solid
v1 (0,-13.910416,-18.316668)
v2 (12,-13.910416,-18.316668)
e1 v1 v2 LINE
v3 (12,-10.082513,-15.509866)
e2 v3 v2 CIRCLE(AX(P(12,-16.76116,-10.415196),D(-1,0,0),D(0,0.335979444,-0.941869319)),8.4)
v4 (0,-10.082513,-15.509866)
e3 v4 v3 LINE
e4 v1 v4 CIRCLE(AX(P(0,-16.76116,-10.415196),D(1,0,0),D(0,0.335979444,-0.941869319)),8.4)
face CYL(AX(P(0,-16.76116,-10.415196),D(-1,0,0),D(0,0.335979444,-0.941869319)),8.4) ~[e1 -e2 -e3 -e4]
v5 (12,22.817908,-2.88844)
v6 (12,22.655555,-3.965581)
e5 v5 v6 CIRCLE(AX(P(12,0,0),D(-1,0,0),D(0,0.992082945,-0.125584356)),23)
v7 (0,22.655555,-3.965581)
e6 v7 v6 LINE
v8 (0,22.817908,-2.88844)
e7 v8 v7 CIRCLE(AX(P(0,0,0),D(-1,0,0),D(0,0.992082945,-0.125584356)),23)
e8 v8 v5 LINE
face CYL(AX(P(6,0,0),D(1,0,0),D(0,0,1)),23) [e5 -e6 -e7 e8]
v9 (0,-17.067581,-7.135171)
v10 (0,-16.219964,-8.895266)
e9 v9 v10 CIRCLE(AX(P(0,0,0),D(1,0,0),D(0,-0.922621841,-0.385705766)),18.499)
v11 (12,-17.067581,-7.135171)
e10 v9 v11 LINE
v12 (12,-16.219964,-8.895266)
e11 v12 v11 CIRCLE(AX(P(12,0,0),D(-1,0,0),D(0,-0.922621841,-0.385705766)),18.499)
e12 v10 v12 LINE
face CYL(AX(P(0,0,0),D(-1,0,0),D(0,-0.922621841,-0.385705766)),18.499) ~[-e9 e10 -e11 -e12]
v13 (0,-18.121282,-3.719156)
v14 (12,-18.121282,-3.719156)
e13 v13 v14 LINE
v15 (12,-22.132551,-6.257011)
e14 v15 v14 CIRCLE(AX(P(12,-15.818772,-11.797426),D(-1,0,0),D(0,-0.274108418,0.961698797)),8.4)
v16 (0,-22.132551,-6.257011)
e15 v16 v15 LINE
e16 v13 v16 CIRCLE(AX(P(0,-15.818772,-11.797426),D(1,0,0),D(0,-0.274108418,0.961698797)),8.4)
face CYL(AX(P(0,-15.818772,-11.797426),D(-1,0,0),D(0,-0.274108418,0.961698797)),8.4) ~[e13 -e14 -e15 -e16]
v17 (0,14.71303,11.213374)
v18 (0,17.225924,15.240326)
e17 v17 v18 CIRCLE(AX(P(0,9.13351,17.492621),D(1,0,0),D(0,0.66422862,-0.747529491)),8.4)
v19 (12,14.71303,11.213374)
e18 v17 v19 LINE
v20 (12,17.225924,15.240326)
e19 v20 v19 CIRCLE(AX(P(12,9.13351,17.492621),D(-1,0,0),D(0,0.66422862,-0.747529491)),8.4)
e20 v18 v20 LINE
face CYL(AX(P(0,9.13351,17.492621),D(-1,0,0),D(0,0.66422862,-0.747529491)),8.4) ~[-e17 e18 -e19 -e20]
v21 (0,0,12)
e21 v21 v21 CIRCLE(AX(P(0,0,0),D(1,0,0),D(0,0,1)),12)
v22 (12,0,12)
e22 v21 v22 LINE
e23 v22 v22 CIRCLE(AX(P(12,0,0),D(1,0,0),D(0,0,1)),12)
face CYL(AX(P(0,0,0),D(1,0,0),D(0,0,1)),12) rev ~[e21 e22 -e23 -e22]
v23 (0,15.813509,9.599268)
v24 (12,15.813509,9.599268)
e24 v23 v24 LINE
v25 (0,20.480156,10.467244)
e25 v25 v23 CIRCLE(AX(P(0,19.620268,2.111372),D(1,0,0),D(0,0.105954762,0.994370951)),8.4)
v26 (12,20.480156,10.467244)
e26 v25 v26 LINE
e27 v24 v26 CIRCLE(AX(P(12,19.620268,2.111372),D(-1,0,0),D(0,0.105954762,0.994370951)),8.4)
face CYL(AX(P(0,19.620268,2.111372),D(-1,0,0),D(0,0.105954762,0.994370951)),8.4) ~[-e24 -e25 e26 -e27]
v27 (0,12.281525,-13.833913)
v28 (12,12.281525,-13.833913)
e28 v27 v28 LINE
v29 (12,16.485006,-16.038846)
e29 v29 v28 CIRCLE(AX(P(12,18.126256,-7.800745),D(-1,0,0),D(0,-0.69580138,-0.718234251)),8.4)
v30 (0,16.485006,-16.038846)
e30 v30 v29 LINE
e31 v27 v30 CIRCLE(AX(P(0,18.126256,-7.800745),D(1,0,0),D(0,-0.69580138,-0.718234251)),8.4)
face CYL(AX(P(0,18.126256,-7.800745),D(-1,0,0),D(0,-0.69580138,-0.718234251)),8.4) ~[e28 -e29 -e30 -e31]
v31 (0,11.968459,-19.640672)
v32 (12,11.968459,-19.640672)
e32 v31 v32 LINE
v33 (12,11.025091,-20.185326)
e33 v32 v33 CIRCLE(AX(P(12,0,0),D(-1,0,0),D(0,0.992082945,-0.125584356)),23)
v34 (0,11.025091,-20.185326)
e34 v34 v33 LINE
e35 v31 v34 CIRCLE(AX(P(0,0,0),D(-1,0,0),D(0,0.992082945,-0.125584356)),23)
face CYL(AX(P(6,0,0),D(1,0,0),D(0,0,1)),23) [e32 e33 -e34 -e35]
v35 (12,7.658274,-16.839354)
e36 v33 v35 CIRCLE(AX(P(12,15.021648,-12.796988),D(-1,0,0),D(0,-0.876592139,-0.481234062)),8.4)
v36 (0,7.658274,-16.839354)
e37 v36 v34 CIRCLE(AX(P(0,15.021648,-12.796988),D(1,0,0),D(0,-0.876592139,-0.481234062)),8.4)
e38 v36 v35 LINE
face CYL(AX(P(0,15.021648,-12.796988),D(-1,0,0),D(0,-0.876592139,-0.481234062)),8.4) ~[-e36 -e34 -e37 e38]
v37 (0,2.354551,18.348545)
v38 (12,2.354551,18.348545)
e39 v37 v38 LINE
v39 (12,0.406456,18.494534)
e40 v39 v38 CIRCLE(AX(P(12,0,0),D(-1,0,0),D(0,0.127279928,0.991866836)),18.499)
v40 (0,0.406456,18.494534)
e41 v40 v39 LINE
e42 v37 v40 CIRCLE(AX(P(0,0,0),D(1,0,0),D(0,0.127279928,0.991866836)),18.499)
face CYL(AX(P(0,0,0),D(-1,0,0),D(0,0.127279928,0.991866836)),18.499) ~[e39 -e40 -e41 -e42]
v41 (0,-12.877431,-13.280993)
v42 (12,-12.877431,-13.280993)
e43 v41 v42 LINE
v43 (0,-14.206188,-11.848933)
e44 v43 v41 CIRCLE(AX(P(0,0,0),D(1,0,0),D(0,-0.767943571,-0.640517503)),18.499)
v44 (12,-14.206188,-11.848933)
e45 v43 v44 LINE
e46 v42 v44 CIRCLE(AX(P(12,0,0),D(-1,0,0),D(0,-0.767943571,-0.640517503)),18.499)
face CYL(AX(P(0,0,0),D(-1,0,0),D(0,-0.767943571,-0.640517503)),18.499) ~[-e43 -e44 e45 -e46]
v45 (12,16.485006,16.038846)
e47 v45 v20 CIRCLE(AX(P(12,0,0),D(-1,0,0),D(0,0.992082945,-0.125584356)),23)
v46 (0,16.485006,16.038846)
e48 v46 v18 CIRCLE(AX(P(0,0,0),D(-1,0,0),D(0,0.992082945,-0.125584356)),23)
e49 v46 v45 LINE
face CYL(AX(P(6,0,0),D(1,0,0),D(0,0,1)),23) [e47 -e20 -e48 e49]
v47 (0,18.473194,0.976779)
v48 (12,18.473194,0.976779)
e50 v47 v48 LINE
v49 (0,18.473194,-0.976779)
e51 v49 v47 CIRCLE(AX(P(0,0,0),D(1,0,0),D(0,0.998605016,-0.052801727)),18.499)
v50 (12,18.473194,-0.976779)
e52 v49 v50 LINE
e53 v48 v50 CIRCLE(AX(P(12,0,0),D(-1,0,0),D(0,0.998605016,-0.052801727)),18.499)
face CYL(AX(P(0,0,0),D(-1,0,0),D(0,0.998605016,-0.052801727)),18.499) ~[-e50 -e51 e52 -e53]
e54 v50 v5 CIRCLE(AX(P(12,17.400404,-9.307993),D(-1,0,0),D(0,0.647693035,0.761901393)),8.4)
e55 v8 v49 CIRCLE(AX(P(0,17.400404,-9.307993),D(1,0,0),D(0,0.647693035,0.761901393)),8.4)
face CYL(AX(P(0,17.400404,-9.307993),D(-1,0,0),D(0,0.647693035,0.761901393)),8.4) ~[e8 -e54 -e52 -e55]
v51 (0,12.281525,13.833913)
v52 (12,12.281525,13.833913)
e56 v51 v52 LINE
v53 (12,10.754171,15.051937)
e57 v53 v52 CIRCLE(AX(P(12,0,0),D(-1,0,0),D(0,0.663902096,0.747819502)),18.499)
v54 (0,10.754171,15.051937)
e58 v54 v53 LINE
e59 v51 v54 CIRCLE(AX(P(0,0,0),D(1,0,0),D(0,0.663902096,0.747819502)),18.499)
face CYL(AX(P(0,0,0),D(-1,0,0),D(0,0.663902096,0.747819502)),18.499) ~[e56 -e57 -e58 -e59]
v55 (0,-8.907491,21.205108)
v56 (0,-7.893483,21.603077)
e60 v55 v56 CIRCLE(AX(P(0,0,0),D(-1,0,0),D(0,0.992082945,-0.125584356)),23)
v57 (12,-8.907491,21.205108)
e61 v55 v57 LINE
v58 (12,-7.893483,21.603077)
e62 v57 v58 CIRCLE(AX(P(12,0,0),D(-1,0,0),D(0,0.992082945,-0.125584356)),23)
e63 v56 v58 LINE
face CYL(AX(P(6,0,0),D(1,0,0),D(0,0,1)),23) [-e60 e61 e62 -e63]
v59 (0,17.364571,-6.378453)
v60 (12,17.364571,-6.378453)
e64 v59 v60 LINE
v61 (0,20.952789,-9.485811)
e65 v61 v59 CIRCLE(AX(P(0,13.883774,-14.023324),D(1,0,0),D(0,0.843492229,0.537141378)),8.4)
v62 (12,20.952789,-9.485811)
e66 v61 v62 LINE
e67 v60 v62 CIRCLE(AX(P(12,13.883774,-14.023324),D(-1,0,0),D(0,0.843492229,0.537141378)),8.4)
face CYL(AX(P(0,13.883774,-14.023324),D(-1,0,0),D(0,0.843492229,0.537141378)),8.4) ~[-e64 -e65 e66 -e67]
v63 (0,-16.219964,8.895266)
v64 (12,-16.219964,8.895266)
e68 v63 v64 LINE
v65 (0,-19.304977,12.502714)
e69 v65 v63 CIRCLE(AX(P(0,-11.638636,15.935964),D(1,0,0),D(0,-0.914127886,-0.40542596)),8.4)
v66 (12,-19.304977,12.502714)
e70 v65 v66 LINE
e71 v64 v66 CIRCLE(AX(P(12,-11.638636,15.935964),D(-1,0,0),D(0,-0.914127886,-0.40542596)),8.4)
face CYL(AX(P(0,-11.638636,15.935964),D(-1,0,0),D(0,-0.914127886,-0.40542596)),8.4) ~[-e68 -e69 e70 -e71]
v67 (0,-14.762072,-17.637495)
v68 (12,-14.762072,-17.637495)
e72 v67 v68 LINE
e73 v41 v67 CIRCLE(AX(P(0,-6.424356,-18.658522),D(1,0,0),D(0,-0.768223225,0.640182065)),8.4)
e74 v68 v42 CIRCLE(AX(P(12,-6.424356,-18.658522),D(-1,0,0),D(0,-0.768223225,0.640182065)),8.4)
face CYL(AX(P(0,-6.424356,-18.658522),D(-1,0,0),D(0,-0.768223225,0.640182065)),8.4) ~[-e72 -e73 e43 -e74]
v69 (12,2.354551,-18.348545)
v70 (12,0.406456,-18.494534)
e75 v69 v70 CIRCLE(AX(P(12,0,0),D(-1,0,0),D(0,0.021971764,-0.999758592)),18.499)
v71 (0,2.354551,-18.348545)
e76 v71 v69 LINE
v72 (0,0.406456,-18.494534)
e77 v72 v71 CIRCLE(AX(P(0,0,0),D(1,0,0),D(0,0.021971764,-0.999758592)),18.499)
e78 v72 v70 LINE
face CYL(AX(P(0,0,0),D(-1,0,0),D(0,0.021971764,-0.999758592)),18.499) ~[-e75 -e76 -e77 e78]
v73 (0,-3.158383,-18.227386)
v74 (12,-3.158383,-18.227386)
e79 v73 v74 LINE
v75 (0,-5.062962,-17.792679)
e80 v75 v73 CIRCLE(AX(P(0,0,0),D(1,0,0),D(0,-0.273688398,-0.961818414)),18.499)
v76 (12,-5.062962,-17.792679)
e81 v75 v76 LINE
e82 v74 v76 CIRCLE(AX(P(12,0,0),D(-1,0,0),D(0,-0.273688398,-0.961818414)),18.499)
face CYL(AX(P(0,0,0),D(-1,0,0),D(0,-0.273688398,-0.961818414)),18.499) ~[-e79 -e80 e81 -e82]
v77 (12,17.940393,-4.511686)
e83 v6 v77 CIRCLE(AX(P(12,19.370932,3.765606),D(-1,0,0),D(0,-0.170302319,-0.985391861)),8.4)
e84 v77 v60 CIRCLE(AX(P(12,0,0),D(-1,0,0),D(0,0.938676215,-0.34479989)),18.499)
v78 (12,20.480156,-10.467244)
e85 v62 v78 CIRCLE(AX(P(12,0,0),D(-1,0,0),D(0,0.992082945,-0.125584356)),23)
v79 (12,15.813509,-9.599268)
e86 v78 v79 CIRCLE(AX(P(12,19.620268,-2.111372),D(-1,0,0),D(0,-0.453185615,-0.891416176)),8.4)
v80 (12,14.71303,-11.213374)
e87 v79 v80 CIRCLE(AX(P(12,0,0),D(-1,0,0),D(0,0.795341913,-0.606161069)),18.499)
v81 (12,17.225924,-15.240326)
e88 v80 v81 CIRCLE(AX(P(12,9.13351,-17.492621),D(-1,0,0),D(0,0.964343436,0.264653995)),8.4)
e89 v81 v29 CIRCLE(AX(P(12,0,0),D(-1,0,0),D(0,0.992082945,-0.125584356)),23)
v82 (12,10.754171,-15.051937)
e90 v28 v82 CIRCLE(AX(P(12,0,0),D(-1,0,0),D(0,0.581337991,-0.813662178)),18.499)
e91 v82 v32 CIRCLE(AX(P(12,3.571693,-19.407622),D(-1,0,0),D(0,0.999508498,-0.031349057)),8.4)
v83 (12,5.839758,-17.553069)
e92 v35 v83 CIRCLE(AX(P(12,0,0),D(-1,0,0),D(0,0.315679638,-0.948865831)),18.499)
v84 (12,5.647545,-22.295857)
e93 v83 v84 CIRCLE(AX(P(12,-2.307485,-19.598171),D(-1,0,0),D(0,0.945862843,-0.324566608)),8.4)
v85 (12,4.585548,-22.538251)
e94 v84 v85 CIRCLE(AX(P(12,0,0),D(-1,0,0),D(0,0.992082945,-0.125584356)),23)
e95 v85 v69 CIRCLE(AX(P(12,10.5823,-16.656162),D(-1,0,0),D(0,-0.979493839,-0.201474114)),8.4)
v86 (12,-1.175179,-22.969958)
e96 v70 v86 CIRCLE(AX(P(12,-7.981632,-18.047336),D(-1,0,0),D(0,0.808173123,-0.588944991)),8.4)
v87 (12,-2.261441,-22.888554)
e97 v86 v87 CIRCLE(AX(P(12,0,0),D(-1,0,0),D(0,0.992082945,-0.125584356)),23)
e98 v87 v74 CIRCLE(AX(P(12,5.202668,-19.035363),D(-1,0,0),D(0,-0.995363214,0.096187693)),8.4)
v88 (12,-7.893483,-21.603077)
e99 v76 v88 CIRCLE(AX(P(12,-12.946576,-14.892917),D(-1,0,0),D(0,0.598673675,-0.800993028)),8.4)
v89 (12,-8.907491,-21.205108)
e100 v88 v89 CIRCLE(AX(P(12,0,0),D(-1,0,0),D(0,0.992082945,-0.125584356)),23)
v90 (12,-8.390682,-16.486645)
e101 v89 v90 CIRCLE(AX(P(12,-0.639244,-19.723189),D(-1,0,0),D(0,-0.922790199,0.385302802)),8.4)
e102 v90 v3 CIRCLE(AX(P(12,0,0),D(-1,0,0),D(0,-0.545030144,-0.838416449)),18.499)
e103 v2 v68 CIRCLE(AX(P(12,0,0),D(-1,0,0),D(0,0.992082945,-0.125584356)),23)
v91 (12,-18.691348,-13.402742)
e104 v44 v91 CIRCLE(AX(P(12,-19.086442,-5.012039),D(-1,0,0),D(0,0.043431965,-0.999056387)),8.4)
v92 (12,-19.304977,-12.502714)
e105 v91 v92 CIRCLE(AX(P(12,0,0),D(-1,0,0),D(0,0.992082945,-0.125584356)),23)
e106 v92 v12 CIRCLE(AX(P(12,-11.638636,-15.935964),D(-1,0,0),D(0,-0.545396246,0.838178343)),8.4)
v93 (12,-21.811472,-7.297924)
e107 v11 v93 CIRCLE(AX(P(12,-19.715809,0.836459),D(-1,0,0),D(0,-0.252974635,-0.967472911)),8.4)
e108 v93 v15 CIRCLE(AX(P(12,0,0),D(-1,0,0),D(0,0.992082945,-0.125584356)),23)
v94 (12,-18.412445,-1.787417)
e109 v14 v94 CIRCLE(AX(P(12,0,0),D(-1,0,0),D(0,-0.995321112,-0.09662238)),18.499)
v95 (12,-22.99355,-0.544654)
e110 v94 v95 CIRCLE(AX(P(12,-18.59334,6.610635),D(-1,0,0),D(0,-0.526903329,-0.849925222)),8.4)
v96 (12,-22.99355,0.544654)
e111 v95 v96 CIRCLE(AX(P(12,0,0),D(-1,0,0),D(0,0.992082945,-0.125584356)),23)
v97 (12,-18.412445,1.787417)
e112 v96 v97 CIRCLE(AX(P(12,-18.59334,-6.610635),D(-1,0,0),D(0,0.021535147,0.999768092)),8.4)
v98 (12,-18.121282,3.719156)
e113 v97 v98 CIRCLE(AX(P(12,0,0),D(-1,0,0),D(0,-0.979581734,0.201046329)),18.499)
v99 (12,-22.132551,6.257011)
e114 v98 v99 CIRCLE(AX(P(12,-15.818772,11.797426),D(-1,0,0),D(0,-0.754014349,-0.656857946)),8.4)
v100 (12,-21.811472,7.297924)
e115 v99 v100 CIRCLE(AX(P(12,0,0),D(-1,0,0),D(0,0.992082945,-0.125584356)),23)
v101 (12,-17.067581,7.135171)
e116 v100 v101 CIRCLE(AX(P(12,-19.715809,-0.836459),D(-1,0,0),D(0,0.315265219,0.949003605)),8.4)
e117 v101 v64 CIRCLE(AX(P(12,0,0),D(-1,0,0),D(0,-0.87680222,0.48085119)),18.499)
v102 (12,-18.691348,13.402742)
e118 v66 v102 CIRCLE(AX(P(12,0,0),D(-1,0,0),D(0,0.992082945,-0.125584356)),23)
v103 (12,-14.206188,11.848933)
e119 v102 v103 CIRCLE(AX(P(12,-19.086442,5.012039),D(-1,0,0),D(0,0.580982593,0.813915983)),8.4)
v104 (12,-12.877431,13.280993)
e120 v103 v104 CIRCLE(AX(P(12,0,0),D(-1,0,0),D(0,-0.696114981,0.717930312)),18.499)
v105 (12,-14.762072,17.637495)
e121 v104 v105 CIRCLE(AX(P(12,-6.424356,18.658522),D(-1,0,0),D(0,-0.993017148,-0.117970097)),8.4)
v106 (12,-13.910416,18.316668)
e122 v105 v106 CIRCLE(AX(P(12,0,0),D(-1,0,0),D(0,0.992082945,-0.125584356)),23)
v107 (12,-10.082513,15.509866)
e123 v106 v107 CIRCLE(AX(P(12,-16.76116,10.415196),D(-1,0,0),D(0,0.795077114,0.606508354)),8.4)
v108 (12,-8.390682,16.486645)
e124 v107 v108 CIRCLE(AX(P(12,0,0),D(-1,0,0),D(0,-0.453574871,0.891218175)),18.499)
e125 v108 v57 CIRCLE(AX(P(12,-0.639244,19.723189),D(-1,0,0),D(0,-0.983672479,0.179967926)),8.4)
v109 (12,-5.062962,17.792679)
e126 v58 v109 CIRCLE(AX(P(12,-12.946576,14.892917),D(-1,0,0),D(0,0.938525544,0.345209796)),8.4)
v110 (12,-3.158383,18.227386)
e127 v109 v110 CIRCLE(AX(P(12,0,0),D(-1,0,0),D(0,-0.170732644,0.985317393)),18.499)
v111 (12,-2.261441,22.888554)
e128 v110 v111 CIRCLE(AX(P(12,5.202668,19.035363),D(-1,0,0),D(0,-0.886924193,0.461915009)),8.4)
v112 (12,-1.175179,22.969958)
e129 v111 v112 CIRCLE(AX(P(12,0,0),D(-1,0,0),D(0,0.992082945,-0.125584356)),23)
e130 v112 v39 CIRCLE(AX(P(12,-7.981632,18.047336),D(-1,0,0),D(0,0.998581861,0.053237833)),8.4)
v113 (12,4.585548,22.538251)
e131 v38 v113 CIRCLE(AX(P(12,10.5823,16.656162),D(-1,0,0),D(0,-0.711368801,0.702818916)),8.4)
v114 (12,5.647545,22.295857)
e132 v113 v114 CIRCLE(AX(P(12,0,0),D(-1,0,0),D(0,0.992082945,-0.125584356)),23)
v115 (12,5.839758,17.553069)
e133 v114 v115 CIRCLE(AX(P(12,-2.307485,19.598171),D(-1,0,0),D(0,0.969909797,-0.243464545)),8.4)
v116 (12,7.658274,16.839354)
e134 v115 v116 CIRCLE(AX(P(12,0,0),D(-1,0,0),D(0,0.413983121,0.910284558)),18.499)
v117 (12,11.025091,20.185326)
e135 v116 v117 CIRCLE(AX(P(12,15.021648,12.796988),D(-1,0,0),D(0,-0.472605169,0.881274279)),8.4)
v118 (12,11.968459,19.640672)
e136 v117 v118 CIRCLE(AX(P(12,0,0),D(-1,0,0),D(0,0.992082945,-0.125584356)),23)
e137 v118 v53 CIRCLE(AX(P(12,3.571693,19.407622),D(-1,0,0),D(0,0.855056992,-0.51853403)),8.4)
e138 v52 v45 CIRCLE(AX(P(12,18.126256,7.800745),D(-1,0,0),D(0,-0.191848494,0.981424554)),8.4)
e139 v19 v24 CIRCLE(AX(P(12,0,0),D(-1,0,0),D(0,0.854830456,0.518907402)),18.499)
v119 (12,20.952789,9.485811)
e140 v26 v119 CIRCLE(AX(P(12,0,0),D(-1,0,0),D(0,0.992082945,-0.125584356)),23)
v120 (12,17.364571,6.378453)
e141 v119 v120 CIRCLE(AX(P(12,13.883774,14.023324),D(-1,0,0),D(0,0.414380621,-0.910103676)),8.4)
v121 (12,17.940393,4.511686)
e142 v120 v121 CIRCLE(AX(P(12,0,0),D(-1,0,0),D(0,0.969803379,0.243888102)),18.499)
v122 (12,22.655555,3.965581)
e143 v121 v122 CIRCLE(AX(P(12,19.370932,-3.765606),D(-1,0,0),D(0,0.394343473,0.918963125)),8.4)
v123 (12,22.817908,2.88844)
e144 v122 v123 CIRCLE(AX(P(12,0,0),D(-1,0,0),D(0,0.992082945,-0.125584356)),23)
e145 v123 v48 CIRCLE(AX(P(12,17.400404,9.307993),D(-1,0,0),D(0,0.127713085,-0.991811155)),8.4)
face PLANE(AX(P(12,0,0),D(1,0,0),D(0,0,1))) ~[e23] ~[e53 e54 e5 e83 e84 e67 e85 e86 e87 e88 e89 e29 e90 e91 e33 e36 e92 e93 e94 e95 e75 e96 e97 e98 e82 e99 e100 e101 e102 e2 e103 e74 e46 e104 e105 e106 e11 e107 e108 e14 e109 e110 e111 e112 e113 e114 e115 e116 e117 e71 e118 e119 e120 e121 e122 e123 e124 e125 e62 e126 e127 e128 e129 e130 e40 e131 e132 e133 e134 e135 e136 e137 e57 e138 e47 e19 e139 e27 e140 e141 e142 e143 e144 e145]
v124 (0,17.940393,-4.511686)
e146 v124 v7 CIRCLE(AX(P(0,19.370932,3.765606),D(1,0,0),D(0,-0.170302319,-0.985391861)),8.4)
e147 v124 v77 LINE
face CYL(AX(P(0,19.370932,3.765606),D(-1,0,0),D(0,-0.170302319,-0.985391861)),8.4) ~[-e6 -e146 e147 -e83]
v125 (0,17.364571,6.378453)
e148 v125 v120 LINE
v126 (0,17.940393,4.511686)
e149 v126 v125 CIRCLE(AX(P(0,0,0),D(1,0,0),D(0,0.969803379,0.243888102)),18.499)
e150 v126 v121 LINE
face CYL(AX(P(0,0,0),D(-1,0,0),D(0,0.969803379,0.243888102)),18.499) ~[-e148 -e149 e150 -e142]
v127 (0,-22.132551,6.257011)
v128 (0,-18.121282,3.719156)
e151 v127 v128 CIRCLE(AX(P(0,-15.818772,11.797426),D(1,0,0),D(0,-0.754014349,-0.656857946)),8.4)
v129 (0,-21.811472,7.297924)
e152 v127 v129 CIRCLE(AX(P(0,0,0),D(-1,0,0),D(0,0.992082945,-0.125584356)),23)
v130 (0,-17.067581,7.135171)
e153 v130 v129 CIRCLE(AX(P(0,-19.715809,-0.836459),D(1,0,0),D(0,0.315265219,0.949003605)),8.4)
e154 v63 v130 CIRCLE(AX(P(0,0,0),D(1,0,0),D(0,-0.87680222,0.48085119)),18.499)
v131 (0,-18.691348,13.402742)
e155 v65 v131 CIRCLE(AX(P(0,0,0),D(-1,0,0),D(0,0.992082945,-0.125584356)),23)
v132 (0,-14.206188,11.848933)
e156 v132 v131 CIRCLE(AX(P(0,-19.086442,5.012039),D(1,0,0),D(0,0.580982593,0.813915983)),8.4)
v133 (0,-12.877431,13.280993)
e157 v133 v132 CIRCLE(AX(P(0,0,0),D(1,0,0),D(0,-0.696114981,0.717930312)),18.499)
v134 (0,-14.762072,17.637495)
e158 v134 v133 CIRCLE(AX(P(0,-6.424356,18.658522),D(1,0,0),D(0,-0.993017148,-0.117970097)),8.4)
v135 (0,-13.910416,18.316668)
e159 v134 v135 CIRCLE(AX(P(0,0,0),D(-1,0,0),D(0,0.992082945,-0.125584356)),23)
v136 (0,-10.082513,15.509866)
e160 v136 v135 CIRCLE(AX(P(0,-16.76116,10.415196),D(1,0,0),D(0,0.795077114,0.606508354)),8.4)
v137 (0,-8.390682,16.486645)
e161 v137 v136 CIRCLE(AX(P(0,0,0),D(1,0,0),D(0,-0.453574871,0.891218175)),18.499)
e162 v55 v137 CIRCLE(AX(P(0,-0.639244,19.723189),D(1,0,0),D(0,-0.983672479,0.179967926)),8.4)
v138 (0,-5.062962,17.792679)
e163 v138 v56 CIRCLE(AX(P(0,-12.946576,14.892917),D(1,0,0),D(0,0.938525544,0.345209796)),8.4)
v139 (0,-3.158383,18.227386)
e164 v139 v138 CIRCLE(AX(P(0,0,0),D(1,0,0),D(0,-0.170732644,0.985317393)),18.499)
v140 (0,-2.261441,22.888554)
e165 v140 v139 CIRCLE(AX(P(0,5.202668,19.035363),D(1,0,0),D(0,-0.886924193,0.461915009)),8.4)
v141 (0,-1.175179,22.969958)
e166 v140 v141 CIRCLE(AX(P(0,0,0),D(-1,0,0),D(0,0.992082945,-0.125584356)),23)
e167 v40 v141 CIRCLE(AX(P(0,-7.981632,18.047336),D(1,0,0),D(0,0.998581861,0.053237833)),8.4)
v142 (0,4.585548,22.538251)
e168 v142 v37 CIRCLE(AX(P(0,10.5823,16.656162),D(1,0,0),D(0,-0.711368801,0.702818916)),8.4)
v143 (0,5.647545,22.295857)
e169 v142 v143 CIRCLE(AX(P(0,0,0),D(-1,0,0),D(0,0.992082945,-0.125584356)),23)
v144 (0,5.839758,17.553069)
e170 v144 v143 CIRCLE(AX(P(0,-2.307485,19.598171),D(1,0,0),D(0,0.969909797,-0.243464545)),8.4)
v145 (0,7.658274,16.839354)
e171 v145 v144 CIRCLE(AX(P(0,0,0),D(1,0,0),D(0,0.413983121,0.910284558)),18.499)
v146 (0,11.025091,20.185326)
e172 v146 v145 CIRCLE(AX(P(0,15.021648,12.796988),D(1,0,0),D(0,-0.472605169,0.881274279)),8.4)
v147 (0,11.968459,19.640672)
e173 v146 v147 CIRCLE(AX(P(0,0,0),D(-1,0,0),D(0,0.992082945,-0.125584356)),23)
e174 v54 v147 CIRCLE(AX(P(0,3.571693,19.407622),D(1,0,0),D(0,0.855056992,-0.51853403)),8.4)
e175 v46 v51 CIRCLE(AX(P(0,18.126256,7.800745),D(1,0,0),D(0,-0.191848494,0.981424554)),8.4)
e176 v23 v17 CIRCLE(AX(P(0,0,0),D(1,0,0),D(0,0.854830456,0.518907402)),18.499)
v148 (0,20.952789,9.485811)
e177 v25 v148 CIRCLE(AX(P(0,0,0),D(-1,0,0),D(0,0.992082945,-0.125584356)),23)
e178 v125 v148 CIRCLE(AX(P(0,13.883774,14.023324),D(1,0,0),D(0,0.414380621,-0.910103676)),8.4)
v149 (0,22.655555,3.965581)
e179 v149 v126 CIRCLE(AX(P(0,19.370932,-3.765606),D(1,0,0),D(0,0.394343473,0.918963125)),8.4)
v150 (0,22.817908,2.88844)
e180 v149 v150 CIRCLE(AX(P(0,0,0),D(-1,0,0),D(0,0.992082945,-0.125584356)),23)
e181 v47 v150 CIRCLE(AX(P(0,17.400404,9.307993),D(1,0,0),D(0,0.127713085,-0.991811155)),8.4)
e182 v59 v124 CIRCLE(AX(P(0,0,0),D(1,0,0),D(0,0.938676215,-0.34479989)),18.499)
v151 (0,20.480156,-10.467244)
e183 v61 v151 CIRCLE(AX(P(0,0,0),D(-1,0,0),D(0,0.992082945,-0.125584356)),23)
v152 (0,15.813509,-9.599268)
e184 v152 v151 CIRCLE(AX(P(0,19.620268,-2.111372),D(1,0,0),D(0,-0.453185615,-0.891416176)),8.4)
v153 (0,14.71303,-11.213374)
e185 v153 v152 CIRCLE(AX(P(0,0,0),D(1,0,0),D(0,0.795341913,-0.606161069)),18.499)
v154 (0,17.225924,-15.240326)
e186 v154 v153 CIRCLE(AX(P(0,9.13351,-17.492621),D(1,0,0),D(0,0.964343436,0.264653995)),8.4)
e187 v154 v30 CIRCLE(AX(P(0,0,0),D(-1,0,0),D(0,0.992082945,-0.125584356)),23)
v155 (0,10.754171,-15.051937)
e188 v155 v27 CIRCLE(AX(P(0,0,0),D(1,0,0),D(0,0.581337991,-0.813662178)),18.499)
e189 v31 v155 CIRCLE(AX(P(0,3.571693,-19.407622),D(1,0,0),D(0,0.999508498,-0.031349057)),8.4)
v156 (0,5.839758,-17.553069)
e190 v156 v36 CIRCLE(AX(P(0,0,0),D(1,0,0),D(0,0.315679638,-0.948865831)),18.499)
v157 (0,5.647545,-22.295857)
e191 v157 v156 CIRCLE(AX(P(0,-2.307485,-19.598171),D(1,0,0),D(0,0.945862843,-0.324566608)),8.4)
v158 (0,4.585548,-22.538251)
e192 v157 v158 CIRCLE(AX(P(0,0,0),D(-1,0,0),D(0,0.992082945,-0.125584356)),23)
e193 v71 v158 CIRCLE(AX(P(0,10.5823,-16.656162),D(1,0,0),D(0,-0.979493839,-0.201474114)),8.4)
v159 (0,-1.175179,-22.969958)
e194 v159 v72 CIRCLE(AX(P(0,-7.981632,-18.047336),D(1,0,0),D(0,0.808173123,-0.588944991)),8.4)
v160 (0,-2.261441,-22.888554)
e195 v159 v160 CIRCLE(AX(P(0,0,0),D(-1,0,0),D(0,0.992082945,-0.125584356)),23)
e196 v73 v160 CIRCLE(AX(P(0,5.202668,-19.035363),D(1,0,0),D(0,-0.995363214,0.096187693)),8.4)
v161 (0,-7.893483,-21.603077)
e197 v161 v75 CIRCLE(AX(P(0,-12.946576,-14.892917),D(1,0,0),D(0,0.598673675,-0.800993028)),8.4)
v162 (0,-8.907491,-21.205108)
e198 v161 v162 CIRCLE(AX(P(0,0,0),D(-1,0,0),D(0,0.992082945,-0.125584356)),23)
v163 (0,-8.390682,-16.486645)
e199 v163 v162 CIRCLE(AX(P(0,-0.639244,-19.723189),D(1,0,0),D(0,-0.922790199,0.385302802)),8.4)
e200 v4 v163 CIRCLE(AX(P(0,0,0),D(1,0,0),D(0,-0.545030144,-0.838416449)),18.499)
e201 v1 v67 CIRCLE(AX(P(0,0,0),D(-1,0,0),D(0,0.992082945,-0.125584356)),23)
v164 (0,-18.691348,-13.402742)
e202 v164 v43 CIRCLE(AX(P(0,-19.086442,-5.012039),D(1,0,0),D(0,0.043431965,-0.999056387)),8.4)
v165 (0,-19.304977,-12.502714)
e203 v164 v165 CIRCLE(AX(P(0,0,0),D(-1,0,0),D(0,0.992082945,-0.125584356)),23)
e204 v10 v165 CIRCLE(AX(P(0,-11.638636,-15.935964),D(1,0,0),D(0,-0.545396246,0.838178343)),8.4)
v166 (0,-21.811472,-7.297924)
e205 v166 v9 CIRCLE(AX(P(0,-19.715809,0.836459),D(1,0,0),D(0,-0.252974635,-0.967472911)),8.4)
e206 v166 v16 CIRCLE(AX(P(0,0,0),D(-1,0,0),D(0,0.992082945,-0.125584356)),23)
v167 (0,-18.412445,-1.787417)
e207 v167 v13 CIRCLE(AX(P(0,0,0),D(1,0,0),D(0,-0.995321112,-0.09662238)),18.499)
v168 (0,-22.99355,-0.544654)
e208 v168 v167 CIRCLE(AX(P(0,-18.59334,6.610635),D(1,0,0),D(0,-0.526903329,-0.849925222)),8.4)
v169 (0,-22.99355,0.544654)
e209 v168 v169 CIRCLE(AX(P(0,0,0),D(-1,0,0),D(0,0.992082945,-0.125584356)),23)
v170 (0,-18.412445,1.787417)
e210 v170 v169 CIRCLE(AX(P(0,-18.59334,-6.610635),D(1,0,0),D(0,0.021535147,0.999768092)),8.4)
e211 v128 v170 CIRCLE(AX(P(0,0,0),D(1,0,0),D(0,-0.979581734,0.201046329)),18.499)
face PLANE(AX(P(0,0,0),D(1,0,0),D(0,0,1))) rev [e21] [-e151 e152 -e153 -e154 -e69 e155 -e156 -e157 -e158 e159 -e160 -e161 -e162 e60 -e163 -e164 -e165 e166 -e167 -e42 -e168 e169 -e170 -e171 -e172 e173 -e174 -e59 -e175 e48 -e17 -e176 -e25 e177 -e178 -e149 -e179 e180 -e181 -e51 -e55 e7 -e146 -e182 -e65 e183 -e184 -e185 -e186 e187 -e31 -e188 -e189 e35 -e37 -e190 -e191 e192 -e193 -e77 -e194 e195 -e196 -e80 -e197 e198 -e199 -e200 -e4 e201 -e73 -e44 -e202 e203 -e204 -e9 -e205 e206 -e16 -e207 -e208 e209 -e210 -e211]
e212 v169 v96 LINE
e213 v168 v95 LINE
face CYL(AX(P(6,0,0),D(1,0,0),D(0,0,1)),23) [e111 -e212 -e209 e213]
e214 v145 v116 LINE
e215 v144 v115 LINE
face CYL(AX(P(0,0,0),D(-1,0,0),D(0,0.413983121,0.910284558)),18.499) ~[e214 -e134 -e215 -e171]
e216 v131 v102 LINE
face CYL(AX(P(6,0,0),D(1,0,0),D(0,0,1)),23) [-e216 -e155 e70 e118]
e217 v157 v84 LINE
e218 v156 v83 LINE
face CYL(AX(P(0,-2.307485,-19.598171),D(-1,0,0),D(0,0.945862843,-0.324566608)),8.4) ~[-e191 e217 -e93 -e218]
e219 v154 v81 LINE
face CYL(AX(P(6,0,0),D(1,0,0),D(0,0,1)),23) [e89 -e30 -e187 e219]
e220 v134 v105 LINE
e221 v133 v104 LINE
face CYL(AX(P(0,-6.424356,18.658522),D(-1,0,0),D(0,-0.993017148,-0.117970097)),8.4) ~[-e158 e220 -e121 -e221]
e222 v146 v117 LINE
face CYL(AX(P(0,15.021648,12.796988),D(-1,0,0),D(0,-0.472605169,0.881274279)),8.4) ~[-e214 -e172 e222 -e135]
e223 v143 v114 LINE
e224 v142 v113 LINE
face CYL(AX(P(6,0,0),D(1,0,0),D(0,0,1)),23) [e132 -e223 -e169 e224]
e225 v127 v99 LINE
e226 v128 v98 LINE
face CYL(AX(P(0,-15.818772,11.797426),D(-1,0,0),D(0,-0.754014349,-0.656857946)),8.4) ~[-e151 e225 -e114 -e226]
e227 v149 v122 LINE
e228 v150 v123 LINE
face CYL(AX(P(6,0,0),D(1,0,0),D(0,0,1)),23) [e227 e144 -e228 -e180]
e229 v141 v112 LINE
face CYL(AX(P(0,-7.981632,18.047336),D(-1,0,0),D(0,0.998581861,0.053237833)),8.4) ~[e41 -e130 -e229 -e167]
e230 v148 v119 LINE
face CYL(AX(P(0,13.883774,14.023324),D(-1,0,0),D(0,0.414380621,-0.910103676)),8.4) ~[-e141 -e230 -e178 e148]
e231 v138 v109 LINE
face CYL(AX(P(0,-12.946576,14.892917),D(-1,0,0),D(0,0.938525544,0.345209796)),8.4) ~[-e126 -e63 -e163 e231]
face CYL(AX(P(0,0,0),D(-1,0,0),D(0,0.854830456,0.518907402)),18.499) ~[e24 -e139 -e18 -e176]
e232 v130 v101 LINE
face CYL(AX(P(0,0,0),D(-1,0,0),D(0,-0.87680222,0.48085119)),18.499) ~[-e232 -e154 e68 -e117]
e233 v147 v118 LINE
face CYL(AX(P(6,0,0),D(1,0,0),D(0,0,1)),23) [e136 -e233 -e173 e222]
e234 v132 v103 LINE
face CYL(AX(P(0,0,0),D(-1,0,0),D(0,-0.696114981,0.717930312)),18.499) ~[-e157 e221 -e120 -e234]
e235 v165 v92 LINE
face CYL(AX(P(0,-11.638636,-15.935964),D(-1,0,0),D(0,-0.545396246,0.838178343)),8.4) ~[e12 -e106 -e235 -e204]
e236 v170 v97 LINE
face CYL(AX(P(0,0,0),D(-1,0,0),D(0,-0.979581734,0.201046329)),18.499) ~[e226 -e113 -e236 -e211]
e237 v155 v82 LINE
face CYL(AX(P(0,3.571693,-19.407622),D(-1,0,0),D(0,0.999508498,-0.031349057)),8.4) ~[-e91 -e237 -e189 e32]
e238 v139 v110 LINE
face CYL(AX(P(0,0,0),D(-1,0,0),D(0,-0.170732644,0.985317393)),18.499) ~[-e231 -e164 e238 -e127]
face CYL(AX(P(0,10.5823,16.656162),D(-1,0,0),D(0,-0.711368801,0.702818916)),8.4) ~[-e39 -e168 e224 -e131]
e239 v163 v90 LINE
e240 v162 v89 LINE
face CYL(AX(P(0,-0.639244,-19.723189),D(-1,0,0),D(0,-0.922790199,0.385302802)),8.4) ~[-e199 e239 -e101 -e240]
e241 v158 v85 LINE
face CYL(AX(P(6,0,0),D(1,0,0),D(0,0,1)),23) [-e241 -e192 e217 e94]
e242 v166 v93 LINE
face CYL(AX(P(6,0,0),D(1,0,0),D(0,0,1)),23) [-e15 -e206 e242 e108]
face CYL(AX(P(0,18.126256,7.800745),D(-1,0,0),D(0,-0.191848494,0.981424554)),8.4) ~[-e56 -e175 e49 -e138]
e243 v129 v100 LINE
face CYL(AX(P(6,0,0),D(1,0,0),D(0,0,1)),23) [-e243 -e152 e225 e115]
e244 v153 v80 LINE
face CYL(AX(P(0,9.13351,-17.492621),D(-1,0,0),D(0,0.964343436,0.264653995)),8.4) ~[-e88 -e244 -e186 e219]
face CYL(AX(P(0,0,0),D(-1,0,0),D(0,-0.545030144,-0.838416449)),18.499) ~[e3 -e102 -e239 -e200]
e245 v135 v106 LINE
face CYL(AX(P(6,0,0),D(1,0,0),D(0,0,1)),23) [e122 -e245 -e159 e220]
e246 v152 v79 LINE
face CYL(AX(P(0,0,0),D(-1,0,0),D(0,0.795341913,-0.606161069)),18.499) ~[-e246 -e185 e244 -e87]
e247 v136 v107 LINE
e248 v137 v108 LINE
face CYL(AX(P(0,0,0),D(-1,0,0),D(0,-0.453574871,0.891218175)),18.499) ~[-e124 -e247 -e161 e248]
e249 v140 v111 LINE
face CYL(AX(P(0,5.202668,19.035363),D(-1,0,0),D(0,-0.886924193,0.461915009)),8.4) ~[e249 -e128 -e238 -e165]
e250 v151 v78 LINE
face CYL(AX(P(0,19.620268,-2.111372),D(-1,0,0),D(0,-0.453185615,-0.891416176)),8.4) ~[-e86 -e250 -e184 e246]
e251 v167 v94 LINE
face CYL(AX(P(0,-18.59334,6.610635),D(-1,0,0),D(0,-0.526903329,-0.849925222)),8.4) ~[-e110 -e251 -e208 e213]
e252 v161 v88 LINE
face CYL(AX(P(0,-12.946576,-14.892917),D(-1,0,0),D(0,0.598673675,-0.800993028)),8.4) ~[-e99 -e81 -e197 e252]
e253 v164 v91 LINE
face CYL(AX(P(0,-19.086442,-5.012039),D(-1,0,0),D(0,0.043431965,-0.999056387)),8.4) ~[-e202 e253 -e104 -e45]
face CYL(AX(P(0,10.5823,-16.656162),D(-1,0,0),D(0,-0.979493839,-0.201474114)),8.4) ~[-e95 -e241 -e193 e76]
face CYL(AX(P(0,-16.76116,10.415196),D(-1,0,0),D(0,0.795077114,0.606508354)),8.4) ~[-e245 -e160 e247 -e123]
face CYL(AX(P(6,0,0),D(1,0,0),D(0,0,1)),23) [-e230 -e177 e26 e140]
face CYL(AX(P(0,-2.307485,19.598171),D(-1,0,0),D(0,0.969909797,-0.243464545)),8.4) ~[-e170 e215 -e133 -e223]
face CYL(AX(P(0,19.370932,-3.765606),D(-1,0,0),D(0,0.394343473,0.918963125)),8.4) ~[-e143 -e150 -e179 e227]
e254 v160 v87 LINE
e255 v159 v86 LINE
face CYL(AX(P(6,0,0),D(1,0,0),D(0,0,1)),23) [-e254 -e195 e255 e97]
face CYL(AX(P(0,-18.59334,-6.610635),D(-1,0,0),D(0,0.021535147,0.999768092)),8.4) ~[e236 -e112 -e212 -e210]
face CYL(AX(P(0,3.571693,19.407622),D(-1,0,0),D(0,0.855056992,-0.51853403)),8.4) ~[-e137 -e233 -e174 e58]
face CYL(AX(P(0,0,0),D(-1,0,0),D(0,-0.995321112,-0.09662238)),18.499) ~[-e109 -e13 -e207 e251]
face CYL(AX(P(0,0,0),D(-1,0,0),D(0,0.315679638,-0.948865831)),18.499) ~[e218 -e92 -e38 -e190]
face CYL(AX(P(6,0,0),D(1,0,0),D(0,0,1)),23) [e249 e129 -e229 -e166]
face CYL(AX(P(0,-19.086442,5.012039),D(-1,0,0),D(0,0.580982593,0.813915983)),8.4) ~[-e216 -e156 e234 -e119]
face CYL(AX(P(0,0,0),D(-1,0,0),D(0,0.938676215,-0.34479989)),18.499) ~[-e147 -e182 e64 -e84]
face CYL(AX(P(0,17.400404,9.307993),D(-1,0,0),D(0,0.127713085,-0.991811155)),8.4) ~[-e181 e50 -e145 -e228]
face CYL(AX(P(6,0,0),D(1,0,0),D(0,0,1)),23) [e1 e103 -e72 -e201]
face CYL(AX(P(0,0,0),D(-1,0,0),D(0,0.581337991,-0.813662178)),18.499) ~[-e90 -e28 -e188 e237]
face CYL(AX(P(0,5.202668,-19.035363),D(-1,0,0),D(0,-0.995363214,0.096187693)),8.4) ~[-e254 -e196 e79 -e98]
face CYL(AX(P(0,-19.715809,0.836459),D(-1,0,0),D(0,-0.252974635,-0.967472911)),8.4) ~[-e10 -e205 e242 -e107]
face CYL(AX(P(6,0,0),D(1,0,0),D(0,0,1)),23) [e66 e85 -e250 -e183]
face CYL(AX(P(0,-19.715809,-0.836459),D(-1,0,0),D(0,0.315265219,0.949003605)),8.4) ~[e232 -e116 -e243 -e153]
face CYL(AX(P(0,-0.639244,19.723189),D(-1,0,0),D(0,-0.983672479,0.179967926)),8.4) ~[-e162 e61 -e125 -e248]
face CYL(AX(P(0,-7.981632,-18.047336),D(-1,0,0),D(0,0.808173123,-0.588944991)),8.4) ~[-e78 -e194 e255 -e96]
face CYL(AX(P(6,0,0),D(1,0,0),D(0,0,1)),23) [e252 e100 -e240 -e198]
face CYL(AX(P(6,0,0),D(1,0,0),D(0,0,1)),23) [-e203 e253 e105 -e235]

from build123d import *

# Parameters (mm, degrees)
BASPROSKE_W     = 12
BASPROSKE_H     = 23
TOOTHCUT_DEPTH  = 35.669871647
TEETHCUTS_COUNT = 21
TEETHCUTS_ANGLE = 342.857142857
BORSKE_R        = 12
BORE_DEPTH      = 50.0000508


with BuildPart() as part:
    # BasProSke → Base-Revolve (revolve)
    with BuildSketch(Plane(origin=(0, 0, 0), x_dir=(1, 0, 0), z_dir=(0, 1, 0)), mode=Mode.PRIVATE) as base_revolve_sk:
        with Locations((6, 11.5)):
            Rectangle(BASPROSKE_W, BASPROSKE_H)
    revolve(base_revolve_sk.sketch.rotate(Axis((-10, 0, 0), (1, 0, 0)), 180), axis=Axis((-10, 0, 0), (1, 0, 0)))

    # TooCutSke → ToothCut (cut, through all)
    with BuildSketch(Plane(origin=(0, 0, 0), x_dir=(0, 0, -1), z_dir=(1, 0, 0))):
        with BuildLine():
            ThreePointArc((0.976779145, 18.473194188), (0, 18.499), (-0.976779145, 18.473194188))
            ThreePointArc((-0.976779145, 18.473194188), (-1.625451341, 20.797249275), (-2.90802115, 22.841025768))
            ThreePointArc((-2.90802115, 22.841025768), (0, 23.0254), (2.90802115, 22.841025768))
            ThreePointArc((2.90802115, 22.841025768), (1.625451341, 20.797249275), (0.976779145, 18.473194188))
        make_face()
    toothcut = extrude(amount=TOOTHCUT_DEPTH, mode=Mode.SUBTRACT)

    # TeethCuts: ToothCut ×21 about axis
    teethcuts_axis = Axis((-10, 0, 0), (1, 0, 0))
    for i in range(1, TEETHCUTS_COUNT):
        add(toothcut.rotate(teethcuts_axis, i * TEETHCUTS_ANGLE / (TEETHCUTS_COUNT - 1)), mode=Mode.SUBTRACT)

    # BorSke → Bore (cut, symmetric)
    with BuildSketch(Plane(origin=(0, 0, 0), x_dir=(0, 0, -1), z_dir=(1, 0, 0))):
        with Locations(Location((0, 0, 0), (0, 0, 180))):
            Circle(BORSKE_R)
    extrude(amount=BORE_DEPTH, both=True, mode=Mode.SUBTRACT)


solid = part.part
